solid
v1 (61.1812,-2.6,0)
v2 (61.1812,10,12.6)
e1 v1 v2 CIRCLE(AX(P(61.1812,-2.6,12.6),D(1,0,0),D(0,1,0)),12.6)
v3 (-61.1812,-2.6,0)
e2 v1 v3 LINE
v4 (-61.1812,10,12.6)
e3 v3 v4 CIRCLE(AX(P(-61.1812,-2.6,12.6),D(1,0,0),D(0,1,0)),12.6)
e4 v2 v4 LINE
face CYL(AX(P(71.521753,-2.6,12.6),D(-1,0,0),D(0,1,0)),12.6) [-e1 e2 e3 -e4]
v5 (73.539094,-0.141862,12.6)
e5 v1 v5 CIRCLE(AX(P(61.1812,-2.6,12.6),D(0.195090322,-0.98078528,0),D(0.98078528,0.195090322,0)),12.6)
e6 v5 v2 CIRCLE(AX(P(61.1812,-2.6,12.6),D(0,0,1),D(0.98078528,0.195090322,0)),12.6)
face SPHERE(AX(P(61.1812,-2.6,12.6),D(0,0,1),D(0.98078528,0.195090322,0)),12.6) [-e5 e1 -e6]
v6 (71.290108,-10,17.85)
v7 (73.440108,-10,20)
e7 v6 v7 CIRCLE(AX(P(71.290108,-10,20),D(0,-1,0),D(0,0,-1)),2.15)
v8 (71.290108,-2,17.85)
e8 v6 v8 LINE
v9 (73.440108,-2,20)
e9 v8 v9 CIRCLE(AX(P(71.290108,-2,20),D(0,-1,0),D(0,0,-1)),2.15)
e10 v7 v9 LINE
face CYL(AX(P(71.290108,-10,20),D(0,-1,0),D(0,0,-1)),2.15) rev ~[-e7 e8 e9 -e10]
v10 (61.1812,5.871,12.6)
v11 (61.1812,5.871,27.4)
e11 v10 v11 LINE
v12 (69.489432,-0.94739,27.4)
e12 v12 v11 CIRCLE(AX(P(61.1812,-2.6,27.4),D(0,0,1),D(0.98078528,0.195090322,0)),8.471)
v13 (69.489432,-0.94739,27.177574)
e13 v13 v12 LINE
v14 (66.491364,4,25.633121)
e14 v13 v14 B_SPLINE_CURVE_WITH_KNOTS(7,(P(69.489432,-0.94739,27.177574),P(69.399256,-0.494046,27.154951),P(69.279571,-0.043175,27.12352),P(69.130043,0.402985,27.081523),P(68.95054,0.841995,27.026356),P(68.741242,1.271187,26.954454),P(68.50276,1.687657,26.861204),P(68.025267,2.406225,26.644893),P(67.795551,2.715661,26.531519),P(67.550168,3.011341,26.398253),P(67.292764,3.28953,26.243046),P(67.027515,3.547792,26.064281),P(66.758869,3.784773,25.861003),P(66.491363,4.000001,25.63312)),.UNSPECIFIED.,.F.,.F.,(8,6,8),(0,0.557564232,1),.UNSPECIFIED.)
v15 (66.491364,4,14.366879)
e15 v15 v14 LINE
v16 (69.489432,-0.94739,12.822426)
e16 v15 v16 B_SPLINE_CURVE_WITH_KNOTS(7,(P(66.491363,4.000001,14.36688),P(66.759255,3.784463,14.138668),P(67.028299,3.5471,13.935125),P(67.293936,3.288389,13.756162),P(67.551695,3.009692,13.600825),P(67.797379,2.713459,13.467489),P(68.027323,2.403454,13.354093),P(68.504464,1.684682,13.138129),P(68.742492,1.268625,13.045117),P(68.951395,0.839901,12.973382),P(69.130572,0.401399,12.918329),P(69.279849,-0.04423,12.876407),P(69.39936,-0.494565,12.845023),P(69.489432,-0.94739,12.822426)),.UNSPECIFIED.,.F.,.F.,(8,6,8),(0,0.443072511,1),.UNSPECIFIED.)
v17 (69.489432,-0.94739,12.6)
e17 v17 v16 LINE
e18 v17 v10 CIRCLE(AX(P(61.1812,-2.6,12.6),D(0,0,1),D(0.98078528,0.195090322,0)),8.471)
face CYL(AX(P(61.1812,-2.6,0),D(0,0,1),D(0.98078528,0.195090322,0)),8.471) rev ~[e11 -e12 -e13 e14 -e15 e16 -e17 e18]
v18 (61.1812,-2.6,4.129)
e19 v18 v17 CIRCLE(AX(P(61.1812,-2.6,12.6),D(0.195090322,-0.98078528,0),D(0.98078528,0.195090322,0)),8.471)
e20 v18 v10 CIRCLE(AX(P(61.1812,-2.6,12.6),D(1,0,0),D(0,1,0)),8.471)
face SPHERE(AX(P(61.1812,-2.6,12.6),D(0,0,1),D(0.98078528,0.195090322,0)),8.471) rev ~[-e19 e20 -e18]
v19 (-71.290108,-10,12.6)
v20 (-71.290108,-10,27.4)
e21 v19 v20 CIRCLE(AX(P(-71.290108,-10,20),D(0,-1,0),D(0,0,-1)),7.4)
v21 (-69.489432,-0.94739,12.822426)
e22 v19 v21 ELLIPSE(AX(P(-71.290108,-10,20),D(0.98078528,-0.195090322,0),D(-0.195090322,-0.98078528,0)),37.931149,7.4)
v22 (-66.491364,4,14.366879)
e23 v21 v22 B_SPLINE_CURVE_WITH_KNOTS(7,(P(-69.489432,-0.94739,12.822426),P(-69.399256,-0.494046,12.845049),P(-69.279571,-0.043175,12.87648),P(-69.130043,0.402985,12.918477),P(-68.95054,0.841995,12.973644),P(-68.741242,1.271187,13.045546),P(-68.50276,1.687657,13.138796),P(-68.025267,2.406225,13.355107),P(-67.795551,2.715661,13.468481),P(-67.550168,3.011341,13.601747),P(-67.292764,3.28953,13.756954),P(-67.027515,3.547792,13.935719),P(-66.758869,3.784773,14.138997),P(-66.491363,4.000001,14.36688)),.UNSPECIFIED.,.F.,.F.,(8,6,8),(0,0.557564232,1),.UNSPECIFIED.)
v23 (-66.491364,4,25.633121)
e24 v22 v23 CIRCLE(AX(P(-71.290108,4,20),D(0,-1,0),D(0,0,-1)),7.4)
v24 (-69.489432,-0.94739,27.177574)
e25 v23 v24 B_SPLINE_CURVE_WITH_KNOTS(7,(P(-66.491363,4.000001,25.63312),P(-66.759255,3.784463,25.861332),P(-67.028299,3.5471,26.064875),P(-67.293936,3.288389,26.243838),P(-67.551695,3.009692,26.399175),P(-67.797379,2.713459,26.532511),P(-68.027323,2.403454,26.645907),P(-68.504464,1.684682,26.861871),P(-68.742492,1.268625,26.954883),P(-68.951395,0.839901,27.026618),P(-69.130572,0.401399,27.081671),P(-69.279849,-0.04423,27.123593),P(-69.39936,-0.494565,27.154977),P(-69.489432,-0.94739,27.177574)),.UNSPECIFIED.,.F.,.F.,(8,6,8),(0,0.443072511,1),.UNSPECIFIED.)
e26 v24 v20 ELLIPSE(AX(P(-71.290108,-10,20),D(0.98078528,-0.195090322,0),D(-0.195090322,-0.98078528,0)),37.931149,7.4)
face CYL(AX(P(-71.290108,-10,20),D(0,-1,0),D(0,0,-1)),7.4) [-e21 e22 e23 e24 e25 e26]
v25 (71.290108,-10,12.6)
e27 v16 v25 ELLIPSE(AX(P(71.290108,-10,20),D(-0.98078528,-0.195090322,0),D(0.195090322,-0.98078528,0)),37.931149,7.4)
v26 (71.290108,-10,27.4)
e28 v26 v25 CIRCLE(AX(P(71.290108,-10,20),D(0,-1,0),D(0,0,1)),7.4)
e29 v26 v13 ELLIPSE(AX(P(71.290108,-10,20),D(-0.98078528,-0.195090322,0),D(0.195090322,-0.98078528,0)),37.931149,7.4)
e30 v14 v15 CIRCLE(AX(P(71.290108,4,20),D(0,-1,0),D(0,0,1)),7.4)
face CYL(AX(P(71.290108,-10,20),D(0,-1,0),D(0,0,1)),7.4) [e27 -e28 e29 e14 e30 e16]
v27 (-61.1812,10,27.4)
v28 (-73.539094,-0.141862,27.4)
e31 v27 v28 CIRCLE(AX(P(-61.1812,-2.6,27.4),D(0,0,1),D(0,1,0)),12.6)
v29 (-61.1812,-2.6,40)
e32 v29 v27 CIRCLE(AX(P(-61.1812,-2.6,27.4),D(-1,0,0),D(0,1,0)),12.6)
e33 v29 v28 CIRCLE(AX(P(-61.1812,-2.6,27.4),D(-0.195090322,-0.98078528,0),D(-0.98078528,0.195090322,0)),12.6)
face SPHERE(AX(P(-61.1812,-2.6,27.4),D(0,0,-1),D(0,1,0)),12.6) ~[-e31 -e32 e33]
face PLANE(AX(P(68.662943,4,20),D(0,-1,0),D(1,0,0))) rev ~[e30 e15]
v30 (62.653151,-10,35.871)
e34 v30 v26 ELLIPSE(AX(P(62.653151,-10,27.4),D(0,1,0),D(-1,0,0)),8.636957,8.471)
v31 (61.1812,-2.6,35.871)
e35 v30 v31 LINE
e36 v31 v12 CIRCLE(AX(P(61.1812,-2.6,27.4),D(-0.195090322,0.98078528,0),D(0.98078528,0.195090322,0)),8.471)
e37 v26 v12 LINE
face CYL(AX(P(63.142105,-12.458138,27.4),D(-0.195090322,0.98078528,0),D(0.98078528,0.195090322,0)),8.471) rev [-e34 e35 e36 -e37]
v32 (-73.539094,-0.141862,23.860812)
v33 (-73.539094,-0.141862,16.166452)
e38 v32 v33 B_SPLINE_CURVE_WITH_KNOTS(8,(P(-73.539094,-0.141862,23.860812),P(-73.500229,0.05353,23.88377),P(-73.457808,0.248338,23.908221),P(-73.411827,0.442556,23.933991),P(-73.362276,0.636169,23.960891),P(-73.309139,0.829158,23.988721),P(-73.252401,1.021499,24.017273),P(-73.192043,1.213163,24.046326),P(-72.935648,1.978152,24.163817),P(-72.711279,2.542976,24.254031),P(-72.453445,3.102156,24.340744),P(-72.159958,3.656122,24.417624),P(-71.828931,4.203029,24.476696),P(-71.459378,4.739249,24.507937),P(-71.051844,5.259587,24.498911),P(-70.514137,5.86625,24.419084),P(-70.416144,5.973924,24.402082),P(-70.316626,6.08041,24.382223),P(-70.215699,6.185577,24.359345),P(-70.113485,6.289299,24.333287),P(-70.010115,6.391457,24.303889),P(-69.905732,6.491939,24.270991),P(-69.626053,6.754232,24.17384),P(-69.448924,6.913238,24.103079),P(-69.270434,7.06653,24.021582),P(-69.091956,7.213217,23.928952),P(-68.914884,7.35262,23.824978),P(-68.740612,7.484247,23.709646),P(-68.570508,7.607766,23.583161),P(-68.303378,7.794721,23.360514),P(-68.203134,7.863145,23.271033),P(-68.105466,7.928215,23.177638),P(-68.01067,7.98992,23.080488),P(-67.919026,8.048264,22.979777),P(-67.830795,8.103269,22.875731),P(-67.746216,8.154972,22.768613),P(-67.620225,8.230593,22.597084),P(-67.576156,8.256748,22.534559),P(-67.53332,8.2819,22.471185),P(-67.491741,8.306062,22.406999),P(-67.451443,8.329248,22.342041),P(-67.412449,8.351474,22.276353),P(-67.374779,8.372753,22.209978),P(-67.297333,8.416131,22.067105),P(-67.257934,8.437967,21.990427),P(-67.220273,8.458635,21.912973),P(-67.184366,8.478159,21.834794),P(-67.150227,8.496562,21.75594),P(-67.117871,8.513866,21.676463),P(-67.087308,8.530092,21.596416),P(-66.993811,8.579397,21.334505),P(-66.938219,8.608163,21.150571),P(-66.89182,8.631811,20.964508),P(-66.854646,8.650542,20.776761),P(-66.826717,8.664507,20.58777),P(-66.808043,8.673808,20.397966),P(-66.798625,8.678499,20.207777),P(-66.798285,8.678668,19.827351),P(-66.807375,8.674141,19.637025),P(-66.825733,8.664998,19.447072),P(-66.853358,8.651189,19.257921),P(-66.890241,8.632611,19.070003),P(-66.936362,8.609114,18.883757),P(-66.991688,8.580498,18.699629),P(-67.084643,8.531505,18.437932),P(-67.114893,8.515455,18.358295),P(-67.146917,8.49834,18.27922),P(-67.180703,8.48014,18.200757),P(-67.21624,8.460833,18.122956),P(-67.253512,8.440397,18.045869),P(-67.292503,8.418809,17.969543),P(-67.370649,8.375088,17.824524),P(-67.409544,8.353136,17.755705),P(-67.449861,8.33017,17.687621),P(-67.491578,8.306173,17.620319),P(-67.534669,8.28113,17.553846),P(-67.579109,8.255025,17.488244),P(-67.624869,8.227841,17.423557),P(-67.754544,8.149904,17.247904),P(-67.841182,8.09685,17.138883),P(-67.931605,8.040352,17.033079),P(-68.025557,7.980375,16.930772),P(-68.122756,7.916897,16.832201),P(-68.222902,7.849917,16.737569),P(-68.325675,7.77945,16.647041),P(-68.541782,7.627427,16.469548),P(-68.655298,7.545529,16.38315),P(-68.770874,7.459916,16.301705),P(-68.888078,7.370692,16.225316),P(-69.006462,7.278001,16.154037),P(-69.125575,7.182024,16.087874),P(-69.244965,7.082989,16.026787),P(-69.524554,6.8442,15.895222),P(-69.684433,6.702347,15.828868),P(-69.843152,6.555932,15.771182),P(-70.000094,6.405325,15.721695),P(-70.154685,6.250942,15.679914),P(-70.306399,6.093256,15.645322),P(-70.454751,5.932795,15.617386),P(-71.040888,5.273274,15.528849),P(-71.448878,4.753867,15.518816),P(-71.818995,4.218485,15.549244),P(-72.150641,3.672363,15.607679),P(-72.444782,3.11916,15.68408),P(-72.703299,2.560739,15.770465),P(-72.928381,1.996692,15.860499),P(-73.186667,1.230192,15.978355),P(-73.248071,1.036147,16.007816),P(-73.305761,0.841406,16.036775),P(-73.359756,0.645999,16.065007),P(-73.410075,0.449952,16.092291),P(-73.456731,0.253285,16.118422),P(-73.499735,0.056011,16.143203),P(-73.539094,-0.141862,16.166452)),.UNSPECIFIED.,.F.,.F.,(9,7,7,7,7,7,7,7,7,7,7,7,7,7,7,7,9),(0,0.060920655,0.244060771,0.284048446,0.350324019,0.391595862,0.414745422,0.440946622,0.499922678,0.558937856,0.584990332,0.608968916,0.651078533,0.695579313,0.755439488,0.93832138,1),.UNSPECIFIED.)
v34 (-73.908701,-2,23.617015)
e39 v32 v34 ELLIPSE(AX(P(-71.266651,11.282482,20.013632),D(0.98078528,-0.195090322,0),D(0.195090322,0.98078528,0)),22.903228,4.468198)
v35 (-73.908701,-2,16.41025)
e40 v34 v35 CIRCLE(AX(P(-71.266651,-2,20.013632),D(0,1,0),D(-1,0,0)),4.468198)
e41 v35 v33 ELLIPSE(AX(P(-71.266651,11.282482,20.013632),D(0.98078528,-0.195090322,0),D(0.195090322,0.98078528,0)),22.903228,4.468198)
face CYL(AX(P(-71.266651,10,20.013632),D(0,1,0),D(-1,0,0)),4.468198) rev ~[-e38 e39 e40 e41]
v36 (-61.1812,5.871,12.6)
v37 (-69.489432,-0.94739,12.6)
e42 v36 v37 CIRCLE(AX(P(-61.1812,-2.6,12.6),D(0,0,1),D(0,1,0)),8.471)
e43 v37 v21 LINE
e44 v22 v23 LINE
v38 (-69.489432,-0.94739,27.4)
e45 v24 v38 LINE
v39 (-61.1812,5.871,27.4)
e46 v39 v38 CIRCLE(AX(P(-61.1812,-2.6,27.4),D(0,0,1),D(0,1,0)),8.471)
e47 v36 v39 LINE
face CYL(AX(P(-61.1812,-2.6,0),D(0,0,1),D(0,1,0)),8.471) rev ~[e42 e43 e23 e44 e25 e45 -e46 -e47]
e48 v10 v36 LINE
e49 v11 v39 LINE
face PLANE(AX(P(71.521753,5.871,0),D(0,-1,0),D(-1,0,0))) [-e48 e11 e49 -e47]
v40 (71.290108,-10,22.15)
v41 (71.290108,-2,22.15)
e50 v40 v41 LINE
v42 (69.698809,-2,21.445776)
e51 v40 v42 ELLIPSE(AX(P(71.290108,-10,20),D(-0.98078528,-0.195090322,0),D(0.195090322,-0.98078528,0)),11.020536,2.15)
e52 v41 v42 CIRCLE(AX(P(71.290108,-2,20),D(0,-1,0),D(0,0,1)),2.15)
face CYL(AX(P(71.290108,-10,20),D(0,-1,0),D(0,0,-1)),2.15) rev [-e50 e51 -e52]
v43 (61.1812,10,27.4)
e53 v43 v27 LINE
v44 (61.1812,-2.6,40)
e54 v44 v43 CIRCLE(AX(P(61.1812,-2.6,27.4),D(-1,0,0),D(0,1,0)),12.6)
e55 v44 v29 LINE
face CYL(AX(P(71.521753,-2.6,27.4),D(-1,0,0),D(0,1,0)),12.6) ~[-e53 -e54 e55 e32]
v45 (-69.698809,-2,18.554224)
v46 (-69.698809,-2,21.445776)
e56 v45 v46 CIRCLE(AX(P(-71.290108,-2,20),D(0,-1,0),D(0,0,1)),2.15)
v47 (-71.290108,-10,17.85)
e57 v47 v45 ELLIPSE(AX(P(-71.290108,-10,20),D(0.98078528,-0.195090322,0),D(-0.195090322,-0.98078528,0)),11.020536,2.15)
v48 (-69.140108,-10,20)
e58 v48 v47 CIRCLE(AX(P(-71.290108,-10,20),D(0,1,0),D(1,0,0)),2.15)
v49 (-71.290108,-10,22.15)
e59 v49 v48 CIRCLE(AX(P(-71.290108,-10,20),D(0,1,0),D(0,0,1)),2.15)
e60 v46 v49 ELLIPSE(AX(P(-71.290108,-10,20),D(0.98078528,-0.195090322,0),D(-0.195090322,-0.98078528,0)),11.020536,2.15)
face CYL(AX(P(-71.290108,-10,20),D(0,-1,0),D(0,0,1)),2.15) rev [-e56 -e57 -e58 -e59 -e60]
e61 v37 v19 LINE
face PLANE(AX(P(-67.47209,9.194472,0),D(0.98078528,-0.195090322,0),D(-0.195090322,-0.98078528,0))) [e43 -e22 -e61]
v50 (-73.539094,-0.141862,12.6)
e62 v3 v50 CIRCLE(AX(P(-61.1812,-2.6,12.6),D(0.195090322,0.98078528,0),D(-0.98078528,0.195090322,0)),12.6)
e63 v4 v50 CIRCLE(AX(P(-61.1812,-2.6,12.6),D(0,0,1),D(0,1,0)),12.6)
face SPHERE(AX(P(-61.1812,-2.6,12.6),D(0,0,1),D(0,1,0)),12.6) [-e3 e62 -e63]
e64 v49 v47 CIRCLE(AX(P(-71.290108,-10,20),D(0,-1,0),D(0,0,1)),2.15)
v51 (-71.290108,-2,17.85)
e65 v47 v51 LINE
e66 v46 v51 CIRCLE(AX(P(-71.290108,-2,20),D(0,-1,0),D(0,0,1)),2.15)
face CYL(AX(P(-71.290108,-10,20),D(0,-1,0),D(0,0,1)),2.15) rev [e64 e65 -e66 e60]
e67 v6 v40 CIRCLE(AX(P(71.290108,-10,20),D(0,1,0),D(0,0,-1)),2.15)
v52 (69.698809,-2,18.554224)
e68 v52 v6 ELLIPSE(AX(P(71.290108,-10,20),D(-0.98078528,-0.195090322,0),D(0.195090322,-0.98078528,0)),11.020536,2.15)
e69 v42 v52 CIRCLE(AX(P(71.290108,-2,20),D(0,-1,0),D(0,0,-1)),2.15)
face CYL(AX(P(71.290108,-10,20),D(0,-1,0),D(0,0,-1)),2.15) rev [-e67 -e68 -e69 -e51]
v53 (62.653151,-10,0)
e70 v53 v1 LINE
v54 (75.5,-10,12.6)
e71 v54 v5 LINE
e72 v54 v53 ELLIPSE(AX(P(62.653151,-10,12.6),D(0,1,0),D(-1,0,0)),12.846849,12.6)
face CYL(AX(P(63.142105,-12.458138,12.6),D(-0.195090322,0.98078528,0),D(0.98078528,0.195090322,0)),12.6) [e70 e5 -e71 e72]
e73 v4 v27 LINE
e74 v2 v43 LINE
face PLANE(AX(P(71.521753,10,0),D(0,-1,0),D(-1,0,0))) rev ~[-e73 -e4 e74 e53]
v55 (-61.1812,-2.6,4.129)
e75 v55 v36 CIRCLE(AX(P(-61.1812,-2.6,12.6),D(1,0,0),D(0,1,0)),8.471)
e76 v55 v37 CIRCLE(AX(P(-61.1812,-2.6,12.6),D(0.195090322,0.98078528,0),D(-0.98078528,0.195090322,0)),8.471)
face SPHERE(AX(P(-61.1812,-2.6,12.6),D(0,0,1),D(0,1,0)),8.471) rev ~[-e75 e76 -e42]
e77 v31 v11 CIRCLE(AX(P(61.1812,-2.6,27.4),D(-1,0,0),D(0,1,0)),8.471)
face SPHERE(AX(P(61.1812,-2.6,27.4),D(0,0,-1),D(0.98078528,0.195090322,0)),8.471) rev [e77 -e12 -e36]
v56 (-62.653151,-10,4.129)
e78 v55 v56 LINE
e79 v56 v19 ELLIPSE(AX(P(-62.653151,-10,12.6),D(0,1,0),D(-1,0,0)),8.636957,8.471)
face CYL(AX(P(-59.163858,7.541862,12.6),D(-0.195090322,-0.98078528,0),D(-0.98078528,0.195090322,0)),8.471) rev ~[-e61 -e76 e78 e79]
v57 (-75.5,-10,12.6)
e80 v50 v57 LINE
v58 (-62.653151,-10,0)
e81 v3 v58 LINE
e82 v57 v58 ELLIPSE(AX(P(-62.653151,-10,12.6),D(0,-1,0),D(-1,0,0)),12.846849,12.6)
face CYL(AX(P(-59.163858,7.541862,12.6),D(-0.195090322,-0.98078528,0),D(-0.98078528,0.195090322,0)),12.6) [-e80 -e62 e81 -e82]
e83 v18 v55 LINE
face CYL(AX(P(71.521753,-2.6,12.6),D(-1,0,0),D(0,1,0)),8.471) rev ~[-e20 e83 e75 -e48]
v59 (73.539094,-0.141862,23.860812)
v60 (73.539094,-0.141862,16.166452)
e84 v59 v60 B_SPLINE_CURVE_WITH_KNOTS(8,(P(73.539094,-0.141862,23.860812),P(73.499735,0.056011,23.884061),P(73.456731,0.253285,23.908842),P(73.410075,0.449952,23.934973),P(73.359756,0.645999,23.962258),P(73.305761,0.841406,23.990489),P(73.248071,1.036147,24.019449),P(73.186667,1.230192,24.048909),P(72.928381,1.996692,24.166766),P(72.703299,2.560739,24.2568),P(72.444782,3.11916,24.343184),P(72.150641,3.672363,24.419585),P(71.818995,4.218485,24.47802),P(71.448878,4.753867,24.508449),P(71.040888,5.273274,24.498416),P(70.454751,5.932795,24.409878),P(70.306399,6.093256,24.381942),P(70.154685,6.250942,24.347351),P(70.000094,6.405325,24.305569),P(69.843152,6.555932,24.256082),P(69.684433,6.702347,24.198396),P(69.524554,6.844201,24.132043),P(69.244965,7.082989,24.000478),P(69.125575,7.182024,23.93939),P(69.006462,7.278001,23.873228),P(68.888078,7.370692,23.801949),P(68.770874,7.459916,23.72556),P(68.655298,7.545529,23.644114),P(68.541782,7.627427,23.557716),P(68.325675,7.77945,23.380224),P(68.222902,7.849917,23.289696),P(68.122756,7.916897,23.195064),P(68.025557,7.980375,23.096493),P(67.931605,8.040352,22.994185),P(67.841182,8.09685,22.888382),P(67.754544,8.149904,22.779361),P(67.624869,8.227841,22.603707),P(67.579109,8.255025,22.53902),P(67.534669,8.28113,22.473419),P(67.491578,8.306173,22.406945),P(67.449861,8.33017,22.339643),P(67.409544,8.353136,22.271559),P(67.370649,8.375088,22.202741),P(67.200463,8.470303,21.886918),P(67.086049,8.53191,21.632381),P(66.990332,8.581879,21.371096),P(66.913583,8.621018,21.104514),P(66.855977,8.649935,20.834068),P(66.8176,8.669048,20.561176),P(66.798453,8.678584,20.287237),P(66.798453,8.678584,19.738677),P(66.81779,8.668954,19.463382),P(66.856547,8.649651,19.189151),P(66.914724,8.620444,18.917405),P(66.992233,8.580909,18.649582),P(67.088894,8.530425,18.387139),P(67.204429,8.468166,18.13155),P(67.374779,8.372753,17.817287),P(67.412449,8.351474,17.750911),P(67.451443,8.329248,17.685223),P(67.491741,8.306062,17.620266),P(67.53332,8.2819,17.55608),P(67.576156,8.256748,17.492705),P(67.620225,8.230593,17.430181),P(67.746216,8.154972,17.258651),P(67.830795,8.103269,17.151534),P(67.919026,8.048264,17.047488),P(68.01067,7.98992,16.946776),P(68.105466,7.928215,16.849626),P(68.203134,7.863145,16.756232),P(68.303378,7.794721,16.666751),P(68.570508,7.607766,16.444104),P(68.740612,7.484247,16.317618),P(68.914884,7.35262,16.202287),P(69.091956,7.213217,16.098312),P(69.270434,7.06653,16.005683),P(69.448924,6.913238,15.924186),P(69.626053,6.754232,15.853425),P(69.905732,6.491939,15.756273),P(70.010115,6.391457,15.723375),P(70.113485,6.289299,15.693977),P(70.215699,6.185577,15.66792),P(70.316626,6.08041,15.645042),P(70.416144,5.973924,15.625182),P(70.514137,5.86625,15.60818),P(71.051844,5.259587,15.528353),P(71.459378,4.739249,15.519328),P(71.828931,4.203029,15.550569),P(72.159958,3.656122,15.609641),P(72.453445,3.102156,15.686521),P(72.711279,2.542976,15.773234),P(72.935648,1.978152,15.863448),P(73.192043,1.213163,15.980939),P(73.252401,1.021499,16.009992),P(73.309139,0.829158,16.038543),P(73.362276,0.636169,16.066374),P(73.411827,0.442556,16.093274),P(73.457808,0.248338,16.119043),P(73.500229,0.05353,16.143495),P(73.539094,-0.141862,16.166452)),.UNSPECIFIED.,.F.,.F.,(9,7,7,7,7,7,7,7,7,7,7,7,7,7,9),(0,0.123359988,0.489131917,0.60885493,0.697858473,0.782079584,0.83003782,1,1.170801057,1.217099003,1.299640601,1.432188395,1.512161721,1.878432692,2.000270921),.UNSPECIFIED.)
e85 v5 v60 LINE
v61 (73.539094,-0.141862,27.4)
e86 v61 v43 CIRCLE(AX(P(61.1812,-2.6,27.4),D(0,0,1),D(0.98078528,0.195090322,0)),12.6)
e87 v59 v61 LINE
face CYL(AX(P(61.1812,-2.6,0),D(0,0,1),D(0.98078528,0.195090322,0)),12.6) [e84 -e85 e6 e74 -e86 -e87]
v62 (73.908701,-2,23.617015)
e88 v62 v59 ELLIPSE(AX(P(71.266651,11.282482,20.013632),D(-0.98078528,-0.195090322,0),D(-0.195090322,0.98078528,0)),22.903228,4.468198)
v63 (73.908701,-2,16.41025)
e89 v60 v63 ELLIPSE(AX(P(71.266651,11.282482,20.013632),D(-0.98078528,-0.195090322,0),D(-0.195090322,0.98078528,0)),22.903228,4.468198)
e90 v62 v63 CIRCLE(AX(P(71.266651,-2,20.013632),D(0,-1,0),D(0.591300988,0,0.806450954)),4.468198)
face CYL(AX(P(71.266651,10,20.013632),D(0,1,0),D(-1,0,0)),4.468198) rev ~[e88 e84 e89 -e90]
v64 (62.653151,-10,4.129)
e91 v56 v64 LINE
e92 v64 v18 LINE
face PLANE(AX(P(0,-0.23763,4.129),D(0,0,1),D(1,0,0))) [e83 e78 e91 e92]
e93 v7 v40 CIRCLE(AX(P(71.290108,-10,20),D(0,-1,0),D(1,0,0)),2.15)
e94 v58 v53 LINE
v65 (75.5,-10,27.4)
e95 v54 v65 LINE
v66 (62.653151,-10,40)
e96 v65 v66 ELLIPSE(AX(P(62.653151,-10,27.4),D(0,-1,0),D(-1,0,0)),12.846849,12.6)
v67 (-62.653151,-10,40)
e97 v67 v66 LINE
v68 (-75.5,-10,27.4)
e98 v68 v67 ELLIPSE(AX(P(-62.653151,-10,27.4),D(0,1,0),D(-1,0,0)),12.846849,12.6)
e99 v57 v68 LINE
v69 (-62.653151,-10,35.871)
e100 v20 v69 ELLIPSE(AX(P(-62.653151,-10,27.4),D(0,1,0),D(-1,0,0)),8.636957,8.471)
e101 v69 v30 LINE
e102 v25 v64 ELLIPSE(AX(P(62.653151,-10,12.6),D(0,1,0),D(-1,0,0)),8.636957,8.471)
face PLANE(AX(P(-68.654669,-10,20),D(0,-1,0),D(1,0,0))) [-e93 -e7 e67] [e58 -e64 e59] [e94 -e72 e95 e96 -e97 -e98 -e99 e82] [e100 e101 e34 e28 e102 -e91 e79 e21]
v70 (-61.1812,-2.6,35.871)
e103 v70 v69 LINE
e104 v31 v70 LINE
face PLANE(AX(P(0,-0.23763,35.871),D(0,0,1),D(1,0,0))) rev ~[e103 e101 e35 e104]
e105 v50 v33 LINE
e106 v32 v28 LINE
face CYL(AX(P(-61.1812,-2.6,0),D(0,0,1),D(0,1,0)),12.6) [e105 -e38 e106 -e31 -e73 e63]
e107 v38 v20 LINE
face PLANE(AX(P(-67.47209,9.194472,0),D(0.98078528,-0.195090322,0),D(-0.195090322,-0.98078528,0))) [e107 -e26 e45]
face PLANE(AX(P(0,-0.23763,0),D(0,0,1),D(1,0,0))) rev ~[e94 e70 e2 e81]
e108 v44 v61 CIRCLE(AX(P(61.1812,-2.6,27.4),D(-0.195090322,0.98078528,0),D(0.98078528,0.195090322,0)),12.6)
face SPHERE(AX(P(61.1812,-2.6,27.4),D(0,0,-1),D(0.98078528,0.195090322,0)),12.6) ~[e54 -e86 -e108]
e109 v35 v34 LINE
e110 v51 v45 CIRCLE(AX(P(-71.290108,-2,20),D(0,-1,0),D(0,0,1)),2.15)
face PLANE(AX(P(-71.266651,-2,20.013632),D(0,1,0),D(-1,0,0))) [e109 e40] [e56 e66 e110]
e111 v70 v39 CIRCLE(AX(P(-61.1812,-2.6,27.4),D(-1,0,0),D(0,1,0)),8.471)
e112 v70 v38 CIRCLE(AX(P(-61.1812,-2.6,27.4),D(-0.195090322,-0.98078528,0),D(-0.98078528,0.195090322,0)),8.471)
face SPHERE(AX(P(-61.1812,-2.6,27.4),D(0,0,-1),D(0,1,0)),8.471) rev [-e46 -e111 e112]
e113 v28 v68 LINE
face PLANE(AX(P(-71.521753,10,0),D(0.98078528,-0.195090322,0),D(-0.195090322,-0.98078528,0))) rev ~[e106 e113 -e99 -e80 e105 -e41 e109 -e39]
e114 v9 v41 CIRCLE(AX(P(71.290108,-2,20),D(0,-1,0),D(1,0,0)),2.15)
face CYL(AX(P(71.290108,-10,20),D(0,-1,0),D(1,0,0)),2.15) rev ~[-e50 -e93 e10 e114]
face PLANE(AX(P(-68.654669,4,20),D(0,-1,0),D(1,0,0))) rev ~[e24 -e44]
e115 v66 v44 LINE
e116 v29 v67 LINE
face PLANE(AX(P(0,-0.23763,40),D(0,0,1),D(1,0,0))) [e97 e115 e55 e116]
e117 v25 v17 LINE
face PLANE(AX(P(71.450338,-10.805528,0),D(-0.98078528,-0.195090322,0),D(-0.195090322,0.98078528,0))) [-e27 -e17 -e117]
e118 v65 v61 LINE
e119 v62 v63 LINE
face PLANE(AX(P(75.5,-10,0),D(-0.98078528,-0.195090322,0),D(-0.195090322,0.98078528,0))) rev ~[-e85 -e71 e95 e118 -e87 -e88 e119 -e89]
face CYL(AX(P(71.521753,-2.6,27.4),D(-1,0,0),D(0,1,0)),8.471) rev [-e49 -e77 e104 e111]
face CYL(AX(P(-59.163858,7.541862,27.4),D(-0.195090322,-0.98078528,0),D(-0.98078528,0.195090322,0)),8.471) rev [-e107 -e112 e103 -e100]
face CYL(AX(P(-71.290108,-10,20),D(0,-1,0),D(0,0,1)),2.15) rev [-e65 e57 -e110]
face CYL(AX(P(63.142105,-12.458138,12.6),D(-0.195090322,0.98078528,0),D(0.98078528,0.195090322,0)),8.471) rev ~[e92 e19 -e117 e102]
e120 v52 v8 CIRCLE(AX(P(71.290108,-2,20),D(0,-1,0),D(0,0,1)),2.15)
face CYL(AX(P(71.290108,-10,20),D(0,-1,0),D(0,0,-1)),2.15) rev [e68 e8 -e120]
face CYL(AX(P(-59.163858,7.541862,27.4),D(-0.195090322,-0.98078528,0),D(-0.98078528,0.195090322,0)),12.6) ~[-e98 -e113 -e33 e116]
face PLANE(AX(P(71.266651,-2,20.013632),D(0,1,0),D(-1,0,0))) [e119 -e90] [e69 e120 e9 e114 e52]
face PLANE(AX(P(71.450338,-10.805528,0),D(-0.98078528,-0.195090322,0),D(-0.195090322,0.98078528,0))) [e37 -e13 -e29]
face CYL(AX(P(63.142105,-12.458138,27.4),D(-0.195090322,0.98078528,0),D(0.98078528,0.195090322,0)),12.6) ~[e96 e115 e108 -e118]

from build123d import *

# Parameters (mm, degrees)
F1_DEPTH = 40
F2_R     = 12.6
F3_T     = -4.129
F5_DEPTH = 14
F6_DEPTH = 20.001
F7_R     = 4.4681980282
F8_DEPTH = 12


with BuildPart() as f1:
    # F0 (on Top) → F1 (new body)
    with BuildSketch(Plane.XY):
        Polygon((-75.5, -10), (75.5, -10), (71.5217526524, 10), (-71.5217526524, 10), align=None)
    extrude(amount=F1_DEPTH)

    # F2
    f2_edges = [f1.edges().sort_by_distance(p)[0] for p in [
        (-71.521753, 10, 20),
        (0, 10, 40),
        (0, 10, 0),
        (71.521753, 10, 20),
        (-73.510876, 0, 40),
        (-73.510876, 0, 0),
        (73.510876, 0, 40),
        (73.510876, 0, 0),
    ]]
    fillet(f2_edges, radius=F2_R)

    # F3
    f3_openings = [f1.faces().sort_by_distance(p)[0] for p in [
        (0, -10, 20),
    ]]
    offset(amount=F3_T, openings=f3_openings)

    # F4 (on face) → F5 (join)
    with BuildSketch(Plane.XZ.offset(10)):
        with BuildLine():
            ThreePointArc((-71.2901081078, 22.15), (-69.7698285282, 21.5202795796), (-69.1401081078, 20))
            ThreePointArc((-69.1401081078, 20), (-69.7698285282, 18.4797204204), (-71.2901081078, 17.85))
            Line((-71.2901081078, 17.85), (-71.2901081078, 12.6))
            ThreePointArc((-71.2901081078, 12.6), (-63.8901081078, 20), (-71.2901081078, 27.4))
            Line((-71.2901081078, 27.4), (-71.2901081078, 22.15))
        make_face()
        with BuildLine():
            Line((71.2901081078, 22.15), (71.2901081078, 27.4))
            ThreePointArc((71.2901081078, 27.4), (63.8901081078, 20), (71.2901081078, 12.6))
            Line((71.2901081078, 12.6), (71.2901081078, 17.85))
            ThreePointArc((71.2901081078, 17.85), (69.1401081078, 20), (71.2901081078, 22.15))
        make_face()
    extrude(amount=-F5_DEPTH)

    # F4 (on face) → F6 (cut, through all)
    with BuildSketch(Plane.XZ.offset(10)):
        with BuildLine():
            ThreePointArc((-71.2901081078, 17.85), (-69.7698285282, 18.4797204204), (-69.1401081078, 20))
            ThreePointArc((-69.1401081078, 20), (-69.7698285282, 21.5202795796), (-71.2901081078, 22.15))
            Line((-71.2901081078, 22.15), (-71.2901081078, 17.85))
        make_face()
        with BuildLine():
            Line((-71.2901081078, 17.85), (-71.2901081078, 22.15))
            ThreePointArc((-71.2901081078, 22.15), (-73.4401081078, 20), (-71.2901081078, 17.85))
        make_face()
        with BuildLine():
            ThreePointArc((73.4401081078, 20), (72.8103876873, 21.5202795796), (71.2901081078, 22.15))
            Line((71.2901081078, 22.15), (71.2901081078, 17.85))
            ThreePointArc((71.2901081078, 17.85), (72.8103876873, 18.4797204204), (73.4401081078, 20))
        make_face()
        with BuildLine():
            Line((71.2901081078, 17.85), (71.2901081078, 22.15))
            ThreePointArc((71.2901081078, 22.15), (69.1401081078, 20), (71.2901081078, 17.85))
        make_face()
    extrude(amount=-F6_DEPTH, mode=Mode.SUBTRACT)

    # F7 (on face) → F8 (cut)
    with BuildSketch(Plane(origin=(0, 10, 0), x_dir=(-1, 0, 0), z_dir=(0, 1, 0))):
        with Locations((71.2666511536, 20.0136322528)):
            Circle(F7_R)
        with Locations((-71.2666511536, 20.0136322528)):
            Circle(F7_R)
    extrude(amount=-F8_DEPTH, mode=Mode.SUBTRACT)


solid = f1.part
